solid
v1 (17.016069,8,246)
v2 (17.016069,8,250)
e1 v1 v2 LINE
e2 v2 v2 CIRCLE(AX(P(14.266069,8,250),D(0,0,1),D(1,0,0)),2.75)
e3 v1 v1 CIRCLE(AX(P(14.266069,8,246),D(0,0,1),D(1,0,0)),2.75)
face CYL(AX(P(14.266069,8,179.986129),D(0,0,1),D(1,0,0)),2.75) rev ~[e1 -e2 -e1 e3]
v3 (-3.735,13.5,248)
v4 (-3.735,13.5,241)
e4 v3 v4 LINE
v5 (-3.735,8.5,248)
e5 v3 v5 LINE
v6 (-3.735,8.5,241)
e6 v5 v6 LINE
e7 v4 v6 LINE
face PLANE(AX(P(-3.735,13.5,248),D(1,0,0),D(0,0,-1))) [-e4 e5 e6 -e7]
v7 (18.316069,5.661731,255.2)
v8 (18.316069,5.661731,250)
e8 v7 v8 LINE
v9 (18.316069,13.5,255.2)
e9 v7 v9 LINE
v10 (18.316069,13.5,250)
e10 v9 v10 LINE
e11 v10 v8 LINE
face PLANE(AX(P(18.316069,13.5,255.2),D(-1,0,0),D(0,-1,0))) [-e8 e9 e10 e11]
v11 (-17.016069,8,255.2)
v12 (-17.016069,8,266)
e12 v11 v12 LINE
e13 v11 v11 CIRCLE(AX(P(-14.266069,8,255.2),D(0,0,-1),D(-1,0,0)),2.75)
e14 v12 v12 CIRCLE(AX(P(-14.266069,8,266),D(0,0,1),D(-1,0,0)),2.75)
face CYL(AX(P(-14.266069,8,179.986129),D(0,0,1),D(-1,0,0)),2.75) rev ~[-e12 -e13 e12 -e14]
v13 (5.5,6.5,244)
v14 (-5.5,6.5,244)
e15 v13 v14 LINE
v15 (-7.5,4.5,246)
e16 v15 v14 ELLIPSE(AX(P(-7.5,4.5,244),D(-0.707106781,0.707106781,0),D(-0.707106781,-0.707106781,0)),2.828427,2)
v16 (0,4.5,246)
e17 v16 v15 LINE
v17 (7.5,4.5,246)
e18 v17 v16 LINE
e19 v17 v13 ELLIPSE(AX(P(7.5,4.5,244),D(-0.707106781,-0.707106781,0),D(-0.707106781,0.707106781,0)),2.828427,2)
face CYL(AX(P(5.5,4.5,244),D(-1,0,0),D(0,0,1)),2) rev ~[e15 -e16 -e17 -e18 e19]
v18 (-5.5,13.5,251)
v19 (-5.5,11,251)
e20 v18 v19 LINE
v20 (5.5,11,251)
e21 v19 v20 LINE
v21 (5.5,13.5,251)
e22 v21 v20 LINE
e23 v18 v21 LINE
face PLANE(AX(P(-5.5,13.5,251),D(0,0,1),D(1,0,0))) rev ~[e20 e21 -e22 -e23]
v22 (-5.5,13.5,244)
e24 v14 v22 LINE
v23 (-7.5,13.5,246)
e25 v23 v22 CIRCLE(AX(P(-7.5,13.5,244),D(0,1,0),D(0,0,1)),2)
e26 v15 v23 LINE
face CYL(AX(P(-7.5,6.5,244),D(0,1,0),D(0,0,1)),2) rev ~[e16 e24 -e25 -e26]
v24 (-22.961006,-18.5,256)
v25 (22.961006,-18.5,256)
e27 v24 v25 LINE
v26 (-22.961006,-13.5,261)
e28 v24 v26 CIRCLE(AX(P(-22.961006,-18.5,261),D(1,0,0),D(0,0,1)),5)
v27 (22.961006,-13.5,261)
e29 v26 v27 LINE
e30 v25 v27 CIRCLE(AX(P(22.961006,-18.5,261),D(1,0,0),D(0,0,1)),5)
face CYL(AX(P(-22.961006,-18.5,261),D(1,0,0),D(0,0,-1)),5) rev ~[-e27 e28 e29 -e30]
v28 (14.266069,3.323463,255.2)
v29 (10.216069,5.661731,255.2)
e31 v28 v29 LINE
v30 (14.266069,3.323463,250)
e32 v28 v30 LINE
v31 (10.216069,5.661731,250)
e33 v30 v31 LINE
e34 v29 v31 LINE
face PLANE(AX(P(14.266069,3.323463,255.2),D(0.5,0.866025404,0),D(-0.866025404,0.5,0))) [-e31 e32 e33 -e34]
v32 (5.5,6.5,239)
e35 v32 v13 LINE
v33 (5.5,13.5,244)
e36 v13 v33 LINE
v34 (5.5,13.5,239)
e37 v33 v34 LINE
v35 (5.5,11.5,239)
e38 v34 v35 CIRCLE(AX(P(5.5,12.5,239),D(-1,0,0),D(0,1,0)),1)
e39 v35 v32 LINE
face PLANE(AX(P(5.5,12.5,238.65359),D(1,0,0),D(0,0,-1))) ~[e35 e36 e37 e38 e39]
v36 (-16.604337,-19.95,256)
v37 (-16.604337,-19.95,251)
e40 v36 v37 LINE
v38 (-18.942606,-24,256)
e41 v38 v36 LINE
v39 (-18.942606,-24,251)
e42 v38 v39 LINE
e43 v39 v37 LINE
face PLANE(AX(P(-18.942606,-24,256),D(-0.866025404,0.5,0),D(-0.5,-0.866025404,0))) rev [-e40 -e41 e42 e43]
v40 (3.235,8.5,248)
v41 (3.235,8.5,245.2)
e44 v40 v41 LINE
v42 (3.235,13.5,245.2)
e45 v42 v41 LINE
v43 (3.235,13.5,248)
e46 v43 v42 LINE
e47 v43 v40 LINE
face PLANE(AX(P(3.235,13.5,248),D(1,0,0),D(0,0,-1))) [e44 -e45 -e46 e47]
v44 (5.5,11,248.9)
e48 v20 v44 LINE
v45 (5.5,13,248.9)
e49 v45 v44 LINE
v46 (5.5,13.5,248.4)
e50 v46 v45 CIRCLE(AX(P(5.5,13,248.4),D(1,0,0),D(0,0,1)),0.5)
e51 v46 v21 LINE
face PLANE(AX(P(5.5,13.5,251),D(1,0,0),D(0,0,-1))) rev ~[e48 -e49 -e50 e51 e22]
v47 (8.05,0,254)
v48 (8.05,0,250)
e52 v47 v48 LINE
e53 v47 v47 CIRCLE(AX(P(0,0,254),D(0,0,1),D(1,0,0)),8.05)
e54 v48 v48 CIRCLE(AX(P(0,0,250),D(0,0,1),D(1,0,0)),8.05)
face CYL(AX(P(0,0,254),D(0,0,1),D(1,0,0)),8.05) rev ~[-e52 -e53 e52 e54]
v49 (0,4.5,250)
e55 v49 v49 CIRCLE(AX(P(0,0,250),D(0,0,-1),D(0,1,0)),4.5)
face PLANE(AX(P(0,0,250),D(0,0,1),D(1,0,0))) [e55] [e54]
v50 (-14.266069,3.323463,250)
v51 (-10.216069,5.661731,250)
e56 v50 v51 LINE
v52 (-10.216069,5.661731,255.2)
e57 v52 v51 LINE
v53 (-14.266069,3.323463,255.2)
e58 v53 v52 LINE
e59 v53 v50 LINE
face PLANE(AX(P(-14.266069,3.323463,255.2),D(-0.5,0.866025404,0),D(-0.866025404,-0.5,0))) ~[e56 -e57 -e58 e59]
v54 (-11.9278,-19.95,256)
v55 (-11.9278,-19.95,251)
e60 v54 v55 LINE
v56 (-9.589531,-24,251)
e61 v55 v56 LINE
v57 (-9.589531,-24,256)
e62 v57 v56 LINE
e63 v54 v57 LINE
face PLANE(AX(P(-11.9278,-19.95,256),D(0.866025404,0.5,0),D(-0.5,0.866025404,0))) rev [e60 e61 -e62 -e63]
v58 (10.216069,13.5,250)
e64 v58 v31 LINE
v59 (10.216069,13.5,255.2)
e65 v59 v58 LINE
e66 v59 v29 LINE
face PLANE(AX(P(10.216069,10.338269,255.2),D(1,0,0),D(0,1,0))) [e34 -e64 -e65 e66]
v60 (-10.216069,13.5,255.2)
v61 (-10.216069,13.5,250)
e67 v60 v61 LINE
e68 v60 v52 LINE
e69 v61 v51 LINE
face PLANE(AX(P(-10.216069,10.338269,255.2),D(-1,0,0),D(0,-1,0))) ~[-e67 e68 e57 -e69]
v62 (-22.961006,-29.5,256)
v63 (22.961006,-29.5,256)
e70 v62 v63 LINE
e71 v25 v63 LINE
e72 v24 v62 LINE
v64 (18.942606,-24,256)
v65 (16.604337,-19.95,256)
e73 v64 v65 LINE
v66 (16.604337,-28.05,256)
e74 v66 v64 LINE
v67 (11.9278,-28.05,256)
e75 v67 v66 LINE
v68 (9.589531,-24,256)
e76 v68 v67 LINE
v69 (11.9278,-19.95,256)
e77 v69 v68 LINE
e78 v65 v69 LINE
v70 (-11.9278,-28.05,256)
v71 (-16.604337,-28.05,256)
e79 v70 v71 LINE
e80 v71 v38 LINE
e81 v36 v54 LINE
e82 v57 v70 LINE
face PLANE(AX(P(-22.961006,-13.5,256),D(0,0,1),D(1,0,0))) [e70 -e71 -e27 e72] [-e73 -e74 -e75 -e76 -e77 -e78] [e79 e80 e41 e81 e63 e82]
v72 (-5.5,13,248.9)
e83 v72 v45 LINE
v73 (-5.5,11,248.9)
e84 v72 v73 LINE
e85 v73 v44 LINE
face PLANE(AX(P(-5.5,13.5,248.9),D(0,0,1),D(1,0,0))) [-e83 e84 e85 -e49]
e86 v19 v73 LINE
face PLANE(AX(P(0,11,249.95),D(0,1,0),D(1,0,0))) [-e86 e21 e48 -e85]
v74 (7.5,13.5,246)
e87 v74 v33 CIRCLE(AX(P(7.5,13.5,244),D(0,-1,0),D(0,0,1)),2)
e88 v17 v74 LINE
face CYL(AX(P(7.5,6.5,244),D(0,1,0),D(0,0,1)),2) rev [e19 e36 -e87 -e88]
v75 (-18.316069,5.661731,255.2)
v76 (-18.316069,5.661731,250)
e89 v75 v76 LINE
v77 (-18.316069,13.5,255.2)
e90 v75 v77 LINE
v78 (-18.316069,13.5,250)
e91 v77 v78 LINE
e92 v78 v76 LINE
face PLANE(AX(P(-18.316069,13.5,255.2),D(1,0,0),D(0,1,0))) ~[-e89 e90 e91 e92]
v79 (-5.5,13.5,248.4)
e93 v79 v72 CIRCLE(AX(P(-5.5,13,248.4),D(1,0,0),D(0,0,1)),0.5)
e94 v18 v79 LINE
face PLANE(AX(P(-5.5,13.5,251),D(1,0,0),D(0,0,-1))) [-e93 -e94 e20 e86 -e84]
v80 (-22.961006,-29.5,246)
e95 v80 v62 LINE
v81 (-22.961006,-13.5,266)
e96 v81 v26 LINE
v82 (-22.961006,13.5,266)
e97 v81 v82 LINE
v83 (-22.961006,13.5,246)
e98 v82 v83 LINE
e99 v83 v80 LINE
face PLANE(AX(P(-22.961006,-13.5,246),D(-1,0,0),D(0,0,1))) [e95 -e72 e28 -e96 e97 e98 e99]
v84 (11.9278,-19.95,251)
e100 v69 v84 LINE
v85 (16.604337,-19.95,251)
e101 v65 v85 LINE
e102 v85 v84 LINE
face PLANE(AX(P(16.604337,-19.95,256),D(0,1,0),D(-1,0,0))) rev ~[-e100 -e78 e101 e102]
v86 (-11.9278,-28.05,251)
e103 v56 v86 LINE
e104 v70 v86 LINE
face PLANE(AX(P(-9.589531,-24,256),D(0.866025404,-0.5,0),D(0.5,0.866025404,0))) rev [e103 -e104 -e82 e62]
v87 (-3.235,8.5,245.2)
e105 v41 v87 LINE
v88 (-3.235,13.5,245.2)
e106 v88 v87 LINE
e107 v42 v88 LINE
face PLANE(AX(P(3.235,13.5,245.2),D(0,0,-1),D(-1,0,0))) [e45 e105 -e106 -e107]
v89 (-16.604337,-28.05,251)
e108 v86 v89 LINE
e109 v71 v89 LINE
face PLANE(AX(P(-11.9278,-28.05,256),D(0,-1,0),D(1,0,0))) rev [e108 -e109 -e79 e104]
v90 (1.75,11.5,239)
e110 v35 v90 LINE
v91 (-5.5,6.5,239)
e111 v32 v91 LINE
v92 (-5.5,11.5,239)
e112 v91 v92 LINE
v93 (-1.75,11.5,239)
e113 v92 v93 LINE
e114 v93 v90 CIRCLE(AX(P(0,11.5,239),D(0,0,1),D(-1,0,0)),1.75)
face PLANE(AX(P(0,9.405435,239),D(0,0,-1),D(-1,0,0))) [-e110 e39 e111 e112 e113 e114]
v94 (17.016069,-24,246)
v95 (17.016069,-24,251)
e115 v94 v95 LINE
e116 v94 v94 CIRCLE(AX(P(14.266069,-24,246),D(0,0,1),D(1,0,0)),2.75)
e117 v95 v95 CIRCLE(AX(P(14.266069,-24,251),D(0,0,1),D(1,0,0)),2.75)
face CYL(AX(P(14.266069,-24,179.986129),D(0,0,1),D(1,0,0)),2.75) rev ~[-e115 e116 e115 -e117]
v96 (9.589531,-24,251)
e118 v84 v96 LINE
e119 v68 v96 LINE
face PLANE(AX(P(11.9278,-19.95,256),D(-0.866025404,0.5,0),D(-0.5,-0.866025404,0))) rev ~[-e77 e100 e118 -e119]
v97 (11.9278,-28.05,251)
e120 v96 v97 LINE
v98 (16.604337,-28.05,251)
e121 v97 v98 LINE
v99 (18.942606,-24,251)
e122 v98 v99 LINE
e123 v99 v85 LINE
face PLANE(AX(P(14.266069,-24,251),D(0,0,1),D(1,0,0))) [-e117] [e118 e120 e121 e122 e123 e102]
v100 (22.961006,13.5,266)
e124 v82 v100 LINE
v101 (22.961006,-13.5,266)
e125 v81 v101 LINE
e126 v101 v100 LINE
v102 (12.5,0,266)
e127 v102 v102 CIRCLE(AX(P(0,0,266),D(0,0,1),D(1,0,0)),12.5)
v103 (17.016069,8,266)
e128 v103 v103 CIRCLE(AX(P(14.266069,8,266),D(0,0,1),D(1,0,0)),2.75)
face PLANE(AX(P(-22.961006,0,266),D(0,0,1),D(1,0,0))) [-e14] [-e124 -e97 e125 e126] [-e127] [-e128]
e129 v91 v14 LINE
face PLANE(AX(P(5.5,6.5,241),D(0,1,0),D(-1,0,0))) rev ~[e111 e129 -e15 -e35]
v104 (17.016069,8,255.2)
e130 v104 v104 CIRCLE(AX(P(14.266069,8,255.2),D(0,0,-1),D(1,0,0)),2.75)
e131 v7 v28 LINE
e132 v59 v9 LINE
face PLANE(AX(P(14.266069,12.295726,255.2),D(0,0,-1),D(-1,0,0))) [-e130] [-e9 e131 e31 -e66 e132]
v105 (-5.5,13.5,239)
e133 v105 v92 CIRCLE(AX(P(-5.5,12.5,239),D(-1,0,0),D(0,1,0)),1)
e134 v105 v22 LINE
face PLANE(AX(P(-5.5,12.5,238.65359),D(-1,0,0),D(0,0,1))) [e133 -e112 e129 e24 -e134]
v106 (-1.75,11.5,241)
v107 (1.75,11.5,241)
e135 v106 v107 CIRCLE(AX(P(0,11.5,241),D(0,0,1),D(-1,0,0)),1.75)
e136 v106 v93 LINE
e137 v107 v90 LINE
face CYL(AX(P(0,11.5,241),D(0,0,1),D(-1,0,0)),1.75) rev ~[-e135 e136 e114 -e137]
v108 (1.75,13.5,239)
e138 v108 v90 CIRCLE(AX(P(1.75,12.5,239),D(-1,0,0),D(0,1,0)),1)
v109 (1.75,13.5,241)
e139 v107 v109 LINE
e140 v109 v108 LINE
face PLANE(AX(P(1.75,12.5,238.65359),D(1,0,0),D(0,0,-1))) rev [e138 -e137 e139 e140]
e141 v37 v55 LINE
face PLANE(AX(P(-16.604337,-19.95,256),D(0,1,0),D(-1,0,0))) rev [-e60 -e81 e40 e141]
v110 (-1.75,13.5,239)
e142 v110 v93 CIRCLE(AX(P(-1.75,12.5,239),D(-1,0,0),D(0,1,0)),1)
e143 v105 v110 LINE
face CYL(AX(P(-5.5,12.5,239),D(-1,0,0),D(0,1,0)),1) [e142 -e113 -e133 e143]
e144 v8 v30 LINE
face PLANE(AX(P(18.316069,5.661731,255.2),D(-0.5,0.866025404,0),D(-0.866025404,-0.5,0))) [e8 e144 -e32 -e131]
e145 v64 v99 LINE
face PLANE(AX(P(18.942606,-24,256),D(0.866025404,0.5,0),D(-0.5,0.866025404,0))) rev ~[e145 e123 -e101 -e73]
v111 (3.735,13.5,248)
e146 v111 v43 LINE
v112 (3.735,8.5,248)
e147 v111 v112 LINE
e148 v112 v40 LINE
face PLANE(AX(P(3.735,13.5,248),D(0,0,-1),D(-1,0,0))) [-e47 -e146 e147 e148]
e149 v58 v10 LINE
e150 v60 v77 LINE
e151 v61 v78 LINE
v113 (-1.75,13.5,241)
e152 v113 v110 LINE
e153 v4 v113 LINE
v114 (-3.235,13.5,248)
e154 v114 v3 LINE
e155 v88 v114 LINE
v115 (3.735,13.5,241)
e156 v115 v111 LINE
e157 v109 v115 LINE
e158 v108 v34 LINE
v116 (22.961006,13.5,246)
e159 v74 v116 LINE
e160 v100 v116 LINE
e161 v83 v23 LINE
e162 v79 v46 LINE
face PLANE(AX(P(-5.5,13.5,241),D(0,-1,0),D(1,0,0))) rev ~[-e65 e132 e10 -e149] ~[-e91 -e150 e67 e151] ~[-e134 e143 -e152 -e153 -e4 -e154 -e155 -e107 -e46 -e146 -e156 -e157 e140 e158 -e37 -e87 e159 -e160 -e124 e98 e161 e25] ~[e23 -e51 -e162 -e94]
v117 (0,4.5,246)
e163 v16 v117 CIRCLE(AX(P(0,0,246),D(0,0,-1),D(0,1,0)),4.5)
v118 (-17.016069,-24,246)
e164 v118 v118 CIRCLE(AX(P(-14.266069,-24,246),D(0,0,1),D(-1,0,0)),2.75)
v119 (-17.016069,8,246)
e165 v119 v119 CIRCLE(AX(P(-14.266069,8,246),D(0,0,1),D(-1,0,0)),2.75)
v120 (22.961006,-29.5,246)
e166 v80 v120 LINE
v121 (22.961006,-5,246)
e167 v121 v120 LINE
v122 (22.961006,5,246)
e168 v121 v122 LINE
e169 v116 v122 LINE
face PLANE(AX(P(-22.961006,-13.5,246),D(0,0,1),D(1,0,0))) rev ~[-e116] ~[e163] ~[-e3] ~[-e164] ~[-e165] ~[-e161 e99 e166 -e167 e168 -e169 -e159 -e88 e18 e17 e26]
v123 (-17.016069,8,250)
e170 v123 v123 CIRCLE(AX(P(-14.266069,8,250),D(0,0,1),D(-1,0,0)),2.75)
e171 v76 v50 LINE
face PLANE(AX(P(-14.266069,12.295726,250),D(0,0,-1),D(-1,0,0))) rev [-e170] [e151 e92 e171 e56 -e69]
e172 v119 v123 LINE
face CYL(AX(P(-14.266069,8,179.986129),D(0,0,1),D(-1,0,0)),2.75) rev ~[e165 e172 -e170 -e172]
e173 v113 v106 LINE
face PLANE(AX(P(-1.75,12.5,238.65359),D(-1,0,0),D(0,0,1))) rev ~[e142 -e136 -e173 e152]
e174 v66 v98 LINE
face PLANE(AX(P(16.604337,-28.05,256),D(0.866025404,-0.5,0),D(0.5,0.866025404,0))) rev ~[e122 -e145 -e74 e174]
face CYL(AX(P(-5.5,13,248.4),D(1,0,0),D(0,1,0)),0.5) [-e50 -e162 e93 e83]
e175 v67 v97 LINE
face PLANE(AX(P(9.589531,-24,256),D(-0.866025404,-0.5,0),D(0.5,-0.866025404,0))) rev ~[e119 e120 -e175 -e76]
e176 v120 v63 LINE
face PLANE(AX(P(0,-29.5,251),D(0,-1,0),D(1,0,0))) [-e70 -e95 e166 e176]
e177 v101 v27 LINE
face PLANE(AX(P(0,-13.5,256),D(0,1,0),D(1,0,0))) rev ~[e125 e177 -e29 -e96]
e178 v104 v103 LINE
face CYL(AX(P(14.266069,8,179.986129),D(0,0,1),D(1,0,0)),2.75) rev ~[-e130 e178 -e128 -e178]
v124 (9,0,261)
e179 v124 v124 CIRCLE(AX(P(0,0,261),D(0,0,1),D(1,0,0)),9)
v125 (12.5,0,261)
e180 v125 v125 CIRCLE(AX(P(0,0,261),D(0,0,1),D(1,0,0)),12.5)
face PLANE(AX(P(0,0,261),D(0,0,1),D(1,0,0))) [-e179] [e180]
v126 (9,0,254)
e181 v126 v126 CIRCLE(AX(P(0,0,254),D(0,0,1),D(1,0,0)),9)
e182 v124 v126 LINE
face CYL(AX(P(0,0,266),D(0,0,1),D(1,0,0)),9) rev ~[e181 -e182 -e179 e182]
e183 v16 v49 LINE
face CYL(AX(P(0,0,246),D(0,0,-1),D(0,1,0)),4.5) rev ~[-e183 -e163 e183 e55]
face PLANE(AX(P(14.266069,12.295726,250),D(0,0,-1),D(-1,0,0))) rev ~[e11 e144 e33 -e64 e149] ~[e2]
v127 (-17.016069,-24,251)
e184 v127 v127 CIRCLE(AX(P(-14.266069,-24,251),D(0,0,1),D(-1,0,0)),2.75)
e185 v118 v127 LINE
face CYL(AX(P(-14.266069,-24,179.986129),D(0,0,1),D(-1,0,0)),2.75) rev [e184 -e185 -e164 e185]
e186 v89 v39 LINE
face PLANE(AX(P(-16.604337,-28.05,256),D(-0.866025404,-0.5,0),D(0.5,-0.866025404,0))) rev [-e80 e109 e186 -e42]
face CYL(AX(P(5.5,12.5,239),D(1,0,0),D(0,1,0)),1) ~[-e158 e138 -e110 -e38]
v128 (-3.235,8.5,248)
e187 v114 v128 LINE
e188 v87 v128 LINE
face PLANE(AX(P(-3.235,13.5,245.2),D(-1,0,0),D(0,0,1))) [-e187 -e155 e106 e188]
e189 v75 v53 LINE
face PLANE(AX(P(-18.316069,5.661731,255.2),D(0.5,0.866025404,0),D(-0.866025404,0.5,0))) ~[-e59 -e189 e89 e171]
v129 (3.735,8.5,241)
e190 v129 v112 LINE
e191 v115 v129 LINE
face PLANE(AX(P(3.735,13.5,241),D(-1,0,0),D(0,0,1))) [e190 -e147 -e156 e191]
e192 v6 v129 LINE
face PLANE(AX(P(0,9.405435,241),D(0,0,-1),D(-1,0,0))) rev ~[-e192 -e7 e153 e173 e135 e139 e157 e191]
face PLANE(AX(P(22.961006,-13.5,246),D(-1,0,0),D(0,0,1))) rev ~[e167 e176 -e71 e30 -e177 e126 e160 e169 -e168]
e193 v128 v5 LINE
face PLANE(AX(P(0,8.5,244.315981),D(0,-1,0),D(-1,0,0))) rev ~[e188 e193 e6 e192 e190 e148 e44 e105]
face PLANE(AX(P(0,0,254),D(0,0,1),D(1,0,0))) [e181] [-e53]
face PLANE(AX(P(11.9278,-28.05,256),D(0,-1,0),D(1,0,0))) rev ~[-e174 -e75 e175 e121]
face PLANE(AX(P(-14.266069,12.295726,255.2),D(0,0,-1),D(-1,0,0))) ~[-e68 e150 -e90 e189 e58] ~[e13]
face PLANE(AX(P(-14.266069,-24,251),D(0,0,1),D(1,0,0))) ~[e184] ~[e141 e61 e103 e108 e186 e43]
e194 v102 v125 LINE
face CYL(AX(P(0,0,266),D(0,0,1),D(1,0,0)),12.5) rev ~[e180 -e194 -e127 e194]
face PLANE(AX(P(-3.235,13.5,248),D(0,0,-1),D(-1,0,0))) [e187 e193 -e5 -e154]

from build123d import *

# Parameters (mm, degrees)
BOSS_EXTRUDE1_DEPTH      = 13.5
BOSS_EXTRUDE2_DEPTH      = 18.5
BOSS_EXTRUDE3_DEPTH      = 5
SKETCH4_W                = 45.922011884
SKETCH4_H                = 20
BOSS_EXTRUDE4_DEPTH      = 13.5
SKETCH2_R                = 4.25
CUT_EXTRUDE1_DEPTH       = 268.629329099
SKETCH6_R                = 9
CUT_EXTRUDE3_DEPTH       = 12
SKETCH7_R                = 12.5
CUT_EXTRUDE4_DEPTH       = 5
BOSS_EXTRUDE5_DEPTH      = 13.5
CUT_EXTRUDE5_REACH       = 210.1
SKETCH8_R                = 9
CUT_EXTRUDE6_REACH       = 210.1
SKETCH10_R               = 4
SKETCH11_R               = 8
CUT_EXTRUDE7_DEPTH       = 4
SKETCH18_R               = 11
CUT_EXTRUDE9_DEPTH       = 47
CUT_EXTRUDE11_DEPTH      = 268.629329099
CUT_EXTRUDE11_DEPTH_BACK = 268.629329099
SKETCH20_W               = 45.922011884
SKETCH20_H               = 204.425421037
SKETCH21_W               = 45.922011884
SKETCH21_H               = 10
BOSS_EXTRUDE6_DEPTH      = 16
M5_CLEARANCE_HOLE1_D     = 5.5
CUT_EXTRUDE12_DEPTH      = 5
FILLET1_R                = 5
LPATTERN2_COPY_1_D       = 5.5
LPATTERN2_COPY_2_D       = 5.5
CUT_EXTRUDE13_START      = -9.2
SKETCH25_R               = 2.75
CUT_EXTRUDE13_DEPTH      = 5.2
SKETCH26_R               = 8.05
CUT_EXTRUDE14_DEPTH      = 4
SKETCH27_W               = 11
SKETCH27_H               = 7
BOSS_EXTRUDE7_DEPTH      = 5
CUT_EXTRUDE15_DEPTH      = 5
FILLET2_R                = 2
BOSS_EXTRUDE8_DEPTH      = 2
BOSS_EXTRUDE9_DEPTH      = 3.75
SKETCH31_W               = 11
SKETCH31_H               = 2.1
CUT_EXTRUDE16_DEPTH      = 2.5
FILLET3_R                = 0.5
CUT_EXTRUDE17_REACH      = 44.396
SKETCH32_R               = 4.5


with BuildPart() as part:
    # Sketch1 → Boss-Extrude1 (new, symmetric)
    with BuildSketch(Plane(origin=(0, 0, 0), x_dir=(1, 0, 0), z_dir=(0, 1, 0))):
        with BuildLine():
            ThreePointArc((17.220754456, -41.574578963), (0, -45), (-17.220754456, -41.574578963))
            Line((-17.220754456, -41.574578963), (-22.961005942, -55.432771951))
            ThreePointArc((-22.961005942, -55.432771951), (0, -60), (22.961005942, -55.432771951))
            Line((22.961005942, -55.432771951), (17.220754456, -41.574578963))
        make_face()
    extrude(amount=BOSS_EXTRUDE1_DEPTH, both=True)

    # Sketch1<3> → Boss-Extrude2 (add, symmetric)
    with BuildSketch(Plane(origin=(0, 0, 0), x_dir=(1, 0, 0), z_dir=(0, 1, 0))):
        with BuildLine():
            ThreePointArc((19.134171618, -46.193976626), (0, -50), (-19.134171618, -46.193976626))
            Line((-19.134171618, -46.193976626), (-21.04758878, -50.813374288))
            ThreePointArc((-21.04758878, -50.813374288), (0, -55), (21.04758878, -50.813374288))
            Line((21.04758878, -50.813374288), (19.134171618, -46.193976626))
        make_face()
    extrude(amount=BOSS_EXTRUDE2_DEPTH, both=True)

    # Sketch3 → Boss-Extrude3 (add, symmetric)
    with BuildSketch(Plane.XZ):
        with BuildLine():
            Line((-22.961005942, 266), (-22.961005942, 55.432771951))
            ThreePointArc((-22.961005942, 55.432771951), (-20.481139434, 56.39612511), (-17.961005942, 57.248600555))
            Line((-17.961005942, 57.248600555), (-17.961005942, 246))
            Line((-17.961005942, 246), (17.961005942, 246))
            Line((17.961005942, 246), (17.961005942, 57.248600555))
            ThreePointArc((17.961005942, 57.248600555), (20.481139434, 56.39612511), (22.961005942, 55.432771951))
            Line((22.961005942, 55.432771951), (22.961005942, 266))
            Line((22.961005942, 266), (-22.961005942, 266))
        make_face()
    extrude(amount=BOSS_EXTRUDE3_DEPTH, both=True)

    # Sketch4 → Boss-Extrude4 (add, symmetric)
    with BuildSketch(Plane(origin=(0, 0, 0), x_dir=(1, 0, 0), z_dir=(0, 1, 0))):
        with Locations((0, -256)):
            Rectangle(SKETCH4_W, SKETCH4_H)
    extrude(amount=BOSS_EXTRUDE4_DEPTH, both=True)

    # Sketch2 → Cut-Extrude1 (cut, through all)
    with BuildSketch(Plane.XY):
        Circle(SKETCH2_R)
    extrude(amount=CUT_EXTRUDE1_DEPTH, mode=Mode.SUBTRACT)

    # Sketch6 → Cut-Extrude3 (cut)
    with BuildSketch(Plane.XY.offset(266)):
        Circle(SKETCH6_R)
    extrude(amount=-CUT_EXTRUDE3_DEPTH, mode=Mode.SUBTRACT)

    # Sketch7 → Cut-Extrude4 (cut)
    with BuildSketch(Plane.XY.offset(266)):
        Circle(SKETCH7_R)
    extrude(amount=-CUT_EXTRUDE4_DEPTH, mode=Mode.SUBTRACT)

    # Sketch9 → Boss-Extrude5 (add, symmetric)
    with BuildSketch(Plane(origin=(0, 0, 0), x_dir=(1, 0, 0), z_dir=(0, 1, 0))):
        with BuildLine():
            Line((-22.961005942, -55.432771951), (-22.961005942, -68))
            Line((-22.961005942, -68), (22.961005942, -68))
            Line((22.961005942, -68), (22.961005942, -55.432771951))
            ThreePointArc((22.961005942, -55.432771951), (0, -60), (-22.961005942, -55.432771951))
        make_face()
    extrude(amount=BOSS_EXTRUDE5_DEPTH, both=True)

    # Sketch8 → Cut-Extrude5 (cut, up to next)
    with BuildSketch(Plane.XY.offset(60), mode=Mode.PRIVATE) as cut_extrude5_sk1:
        Circle(SKETCH8_R)
    cut_extrude5_tool1 = extrude(cut_extrude5_sk1.sketch, amount=-CUT_EXTRUDE5_REACH, mode=Mode.PRIVATE) & part.part
    add(cut_extrude5_tool1.solids().sort_by_distance((0, 0, 60))[0], mode=Mode.SUBTRACT)

    # Sketch10 → Cut-Extrude6 (cut, up to next)
    with BuildSketch(Plane.XY.offset(60), mode=Mode.PRIVATE) as cut_extrude6_sk1:
        Circle(SKETCH10_R)
    cut_extrude6_tool1 = extrude(cut_extrude6_sk1.sketch, amount=CUT_EXTRUDE6_REACH, mode=Mode.PRIVATE) & part.part
    add(cut_extrude6_tool1.solids().sort_by_distance((0, 0, 60))[0], mode=Mode.SUBTRACT)

    # Sketch11 → Cut-Extrude7 (cut)
    with BuildSketch(Plane.XY.offset(68)):
        Circle(SKETCH11_R)
    extrude(amount=-CUT_EXTRUDE7_DEPTH, mode=Mode.SUBTRACT)

    # Sketch18 → Cut-Extrude9 (cut)
    with BuildSketch(Plane.XY):
        Circle(SKETCH18_R)
    extrude(amount=CUT_EXTRUDE9_DEPTH, mode=Mode.SUBTRACT)

    # Sketch20 → Cut-Extrude11 (cut, two sides: drawn at the far end of the back side and taken through both)
    with BuildSketch(Plane(origin=(0, 0, 0), x_dir=(1, 0, 0), z_dir=(0, 1, 0)).offset(-CUT_EXTRUDE11_DEPTH_BACK)):
        with Locations((0, -143.787289482)):
            Rectangle(SKETCH20_W, SKETCH20_H)
    extrude(amount=CUT_EXTRUDE11_DEPTH + CUT_EXTRUDE11_DEPTH_BACK, mode=Mode.SUBTRACT)

    # Sketch21 → Boss-Extrude6 (add)
    with BuildSketch(Plane.XZ.offset(13.5)):
        with Locations((0, 251)):
            Rectangle(SKETCH21_W, SKETCH21_H)
    extrude(amount=BOSS_EXTRUDE6_DEPTH)

    # M5 Clearance Hole1 (through all)
    with Locations(Plane(origin=(0, 0, 246), x_dir=(-1, 0, 0), z_dir=(0, 0, -1))):
        with Locations((-14.26606865, -24)):
            m5_clearance_hole1 = Hole(M5_CLEARANCE_HOLE1_D / 2)

    # Sketch24 → Cut-Extrude12 (cut)
    with BuildSketch(Plane.XY.offset(256)):
        Polygon((18.94260583, -24), (16.60433724, -19.95), (11.92780006, -19.95), (9.58953147, -24), (11.92780006, -28.05), (16.60433724, -28.05), align=None)
    cut_extrude12 = extrude(amount=-CUT_EXTRUDE12_DEPTH, mode=Mode.SUBTRACT)

    # Mirror1: M5 Clearance Hole1 across plane
    add(m5_clearance_hole1.mirror(Plane(origin=(0, 0, 0), x_dir=(0, 0, 1), z_dir=(1, 0, 0))), mode=Mode.SUBTRACT)

    # Mirror2: Cut-Extrude12 across plane
    add(cut_extrude12.mirror(Plane(origin=(0, 0, 0), x_dir=(0, 0, 1), z_dir=(1, 0, 0))), mode=Mode.SUBTRACT)

    # Fillet1
    fillet1_edges = [part.edges().sort_by_distance(p)[0] for p in [
        (0, -13.5, 256),
    ]]
    fillet(fillet1_edges, radius=FILLET1_R)

    # LPattern2 copy 1 (through all)
    with Locations(Plane(origin=(0, 32, 246), x_dir=(1, 0, 0), z_dir=(0, 0, -1))):
        with Locations((-14.26606865, 24)):
            Hole(LPATTERN2_COPY_1_D / 2)

    # LPattern2 copy 2 (through all)
    with Locations(Plane(origin=(0, 32, 246), x_dir=(-1, 0, 0), z_dir=(0, 0, -1))):
        with Locations((-14.26606865, -24)):
            Hole(LPATTERN2_COPY_2_D / 2)

    # Sketch25 → Cut-Extrude13 (cut)
    with BuildSketch(Plane(origin=(0, 0, 246), x_dir=(-1, 0, 0), z_dir=(0, 0, -1)).offset(CUT_EXTRUDE13_START)):
        Polygon((-10.21606865, 5.66173141), (-10.21606865, 13.5), (-18.31606865, 13.5), (-18.31606865, 5.66173141), (-14.26606865, 3.32346282), align=None)
        with Locations((-14.26606865, 8)):
            Circle(SKETCH25_R, mode=Mode.SUBTRACT)
    cut_extrude13 = extrude(amount=CUT_EXTRUDE13_DEPTH, mode=Mode.SUBTRACT)

    # Mirror3: Cut-Extrude13 across plane
    add(cut_extrude13.mirror(Plane(origin=(0, 0, 0), x_dir=(0, 0, 1), z_dir=(1, 0, 0))), mode=Mode.SUBTRACT)

    # Sketch26 → Cut-Extrude14 (cut)
    with BuildSketch(Plane.XY.offset(254)):
        Circle(SKETCH26_R)
    extrude(amount=-CUT_EXTRUDE14_DEPTH, mode=Mode.SUBTRACT)

    # Sketch27 → Boss-Extrude7 (add)
    with BuildSketch(Plane(origin=(0, 0, 246), x_dir=(-1, 0, 0), z_dir=(0, 0, -1))):
        with Locations((0, 10)):
            Rectangle(SKETCH27_W, SKETCH27_H)
    extrude(amount=BOSS_EXTRUDE7_DEPTH)

    # Sketch28 → Cut-Extrude15 (cut)
    with BuildSketch(Plane(origin=(0, 13.5, 0), x_dir=(1, 0, 0), z_dir=(0, 1, 0))):
        Polygon((-3.735, -241), (3.735, -241), (3.735, -248), (3.235, -248), (3.235, -245.2), (-3.235, -245.2), (-3.235, -248), (-3.735, -248), align=None)
    extrude(amount=-CUT_EXTRUDE15_DEPTH, mode=Mode.SUBTRACT)

    # Fillet2
    fillet2_edges = [part.edges().sort_by_distance(p)[0] for p in [
        (0, 6.5, 246),
        (5.5, 10, 246),
        (-5.5, 10, 246),
    ]]
    fillet(fillet2_edges, radius=FILLET2_R)

    # Sketch29 → Boss-Extrude8 (add)
    with BuildSketch(Plane(origin=(0, 0, 241), x_dir=(-1, 0, 0), z_dir=(0, 0, -1))):
        with BuildLine():
            ThreePointArc((1.75, 11.5), (0, 9.75), (-1.75, 11.5))
            Line((-1.75, 11.5), (-1.75, 13.5))
            Line((-1.75, 13.5), (-5.5, 13.5))
            Line((-5.5, 13.5), (-5.5, 6.5))
            Line((-5.5, 6.5), (5.5, 6.5))
            Line((5.5, 6.5), (5.5, 13.5))
            Line((5.5, 13.5), (1.75, 13.5))
            Line((1.75, 13.5), (1.75, 11.5))
        make_face()
    extrude(amount=BOSS_EXTRUDE8_DEPTH)

    # Sketch30 → Boss-Extrude9 (add)
    with BuildSketch(Plane.ZY.offset(5.5)):
        with BuildLine():
            Line((239, 11.5), (239, 13.5))
            ThreePointArc((239, 13.5), (238, 12.5), (239, 11.5))
        make_face()
    boss_extrude9 = extrude(amount=-BOSS_EXTRUDE9_DEPTH)

    # Mirror4: Boss-Extrude9 across plane
    add(boss_extrude9.mirror(Plane(origin=(0, 0, 0), x_dir=(0, 0, 1), z_dir=(1, 0, 0))))

    # Sketch31 → Cut-Extrude16 (cut)
    with BuildSketch(Plane(origin=(0, 13.5, 0), x_dir=(1, 0, 0), z_dir=(0, 1, 0))):
        with Locations((0, -249.95)):
            Rectangle(SKETCH31_W, SKETCH31_H)
    extrude(amount=-CUT_EXTRUDE16_DEPTH, mode=Mode.SUBTRACT)

    # Fillet3
    fillet3_edges = [part.edges().sort_by_distance(p)[0] for p in [
        (0, 13.5, 248.9),
    ]]
    fillet(fillet3_edges, radius=FILLET3_R)

    # Sketch32 → Cut-Extrude17 (cut, up to next)
    with BuildSketch(Plane(origin=(0, 0, 246), x_dir=(-1, 0, 0), z_dir=(0, 0, -1)), mode=Mode.PRIVATE) as cut_extrude17_sk1:
        Circle(SKETCH32_R)
    cut_extrude17_tool1 = extrude(cut_extrude17_sk1.sketch, amount=-CUT_EXTRUDE17_REACH, mode=Mode.PRIVATE) & part.part
    add(cut_extrude17_tool1.solids().sort_by_distance((0, 0, 246))[0], mode=Mode.SUBTRACT)


solid = part.part
